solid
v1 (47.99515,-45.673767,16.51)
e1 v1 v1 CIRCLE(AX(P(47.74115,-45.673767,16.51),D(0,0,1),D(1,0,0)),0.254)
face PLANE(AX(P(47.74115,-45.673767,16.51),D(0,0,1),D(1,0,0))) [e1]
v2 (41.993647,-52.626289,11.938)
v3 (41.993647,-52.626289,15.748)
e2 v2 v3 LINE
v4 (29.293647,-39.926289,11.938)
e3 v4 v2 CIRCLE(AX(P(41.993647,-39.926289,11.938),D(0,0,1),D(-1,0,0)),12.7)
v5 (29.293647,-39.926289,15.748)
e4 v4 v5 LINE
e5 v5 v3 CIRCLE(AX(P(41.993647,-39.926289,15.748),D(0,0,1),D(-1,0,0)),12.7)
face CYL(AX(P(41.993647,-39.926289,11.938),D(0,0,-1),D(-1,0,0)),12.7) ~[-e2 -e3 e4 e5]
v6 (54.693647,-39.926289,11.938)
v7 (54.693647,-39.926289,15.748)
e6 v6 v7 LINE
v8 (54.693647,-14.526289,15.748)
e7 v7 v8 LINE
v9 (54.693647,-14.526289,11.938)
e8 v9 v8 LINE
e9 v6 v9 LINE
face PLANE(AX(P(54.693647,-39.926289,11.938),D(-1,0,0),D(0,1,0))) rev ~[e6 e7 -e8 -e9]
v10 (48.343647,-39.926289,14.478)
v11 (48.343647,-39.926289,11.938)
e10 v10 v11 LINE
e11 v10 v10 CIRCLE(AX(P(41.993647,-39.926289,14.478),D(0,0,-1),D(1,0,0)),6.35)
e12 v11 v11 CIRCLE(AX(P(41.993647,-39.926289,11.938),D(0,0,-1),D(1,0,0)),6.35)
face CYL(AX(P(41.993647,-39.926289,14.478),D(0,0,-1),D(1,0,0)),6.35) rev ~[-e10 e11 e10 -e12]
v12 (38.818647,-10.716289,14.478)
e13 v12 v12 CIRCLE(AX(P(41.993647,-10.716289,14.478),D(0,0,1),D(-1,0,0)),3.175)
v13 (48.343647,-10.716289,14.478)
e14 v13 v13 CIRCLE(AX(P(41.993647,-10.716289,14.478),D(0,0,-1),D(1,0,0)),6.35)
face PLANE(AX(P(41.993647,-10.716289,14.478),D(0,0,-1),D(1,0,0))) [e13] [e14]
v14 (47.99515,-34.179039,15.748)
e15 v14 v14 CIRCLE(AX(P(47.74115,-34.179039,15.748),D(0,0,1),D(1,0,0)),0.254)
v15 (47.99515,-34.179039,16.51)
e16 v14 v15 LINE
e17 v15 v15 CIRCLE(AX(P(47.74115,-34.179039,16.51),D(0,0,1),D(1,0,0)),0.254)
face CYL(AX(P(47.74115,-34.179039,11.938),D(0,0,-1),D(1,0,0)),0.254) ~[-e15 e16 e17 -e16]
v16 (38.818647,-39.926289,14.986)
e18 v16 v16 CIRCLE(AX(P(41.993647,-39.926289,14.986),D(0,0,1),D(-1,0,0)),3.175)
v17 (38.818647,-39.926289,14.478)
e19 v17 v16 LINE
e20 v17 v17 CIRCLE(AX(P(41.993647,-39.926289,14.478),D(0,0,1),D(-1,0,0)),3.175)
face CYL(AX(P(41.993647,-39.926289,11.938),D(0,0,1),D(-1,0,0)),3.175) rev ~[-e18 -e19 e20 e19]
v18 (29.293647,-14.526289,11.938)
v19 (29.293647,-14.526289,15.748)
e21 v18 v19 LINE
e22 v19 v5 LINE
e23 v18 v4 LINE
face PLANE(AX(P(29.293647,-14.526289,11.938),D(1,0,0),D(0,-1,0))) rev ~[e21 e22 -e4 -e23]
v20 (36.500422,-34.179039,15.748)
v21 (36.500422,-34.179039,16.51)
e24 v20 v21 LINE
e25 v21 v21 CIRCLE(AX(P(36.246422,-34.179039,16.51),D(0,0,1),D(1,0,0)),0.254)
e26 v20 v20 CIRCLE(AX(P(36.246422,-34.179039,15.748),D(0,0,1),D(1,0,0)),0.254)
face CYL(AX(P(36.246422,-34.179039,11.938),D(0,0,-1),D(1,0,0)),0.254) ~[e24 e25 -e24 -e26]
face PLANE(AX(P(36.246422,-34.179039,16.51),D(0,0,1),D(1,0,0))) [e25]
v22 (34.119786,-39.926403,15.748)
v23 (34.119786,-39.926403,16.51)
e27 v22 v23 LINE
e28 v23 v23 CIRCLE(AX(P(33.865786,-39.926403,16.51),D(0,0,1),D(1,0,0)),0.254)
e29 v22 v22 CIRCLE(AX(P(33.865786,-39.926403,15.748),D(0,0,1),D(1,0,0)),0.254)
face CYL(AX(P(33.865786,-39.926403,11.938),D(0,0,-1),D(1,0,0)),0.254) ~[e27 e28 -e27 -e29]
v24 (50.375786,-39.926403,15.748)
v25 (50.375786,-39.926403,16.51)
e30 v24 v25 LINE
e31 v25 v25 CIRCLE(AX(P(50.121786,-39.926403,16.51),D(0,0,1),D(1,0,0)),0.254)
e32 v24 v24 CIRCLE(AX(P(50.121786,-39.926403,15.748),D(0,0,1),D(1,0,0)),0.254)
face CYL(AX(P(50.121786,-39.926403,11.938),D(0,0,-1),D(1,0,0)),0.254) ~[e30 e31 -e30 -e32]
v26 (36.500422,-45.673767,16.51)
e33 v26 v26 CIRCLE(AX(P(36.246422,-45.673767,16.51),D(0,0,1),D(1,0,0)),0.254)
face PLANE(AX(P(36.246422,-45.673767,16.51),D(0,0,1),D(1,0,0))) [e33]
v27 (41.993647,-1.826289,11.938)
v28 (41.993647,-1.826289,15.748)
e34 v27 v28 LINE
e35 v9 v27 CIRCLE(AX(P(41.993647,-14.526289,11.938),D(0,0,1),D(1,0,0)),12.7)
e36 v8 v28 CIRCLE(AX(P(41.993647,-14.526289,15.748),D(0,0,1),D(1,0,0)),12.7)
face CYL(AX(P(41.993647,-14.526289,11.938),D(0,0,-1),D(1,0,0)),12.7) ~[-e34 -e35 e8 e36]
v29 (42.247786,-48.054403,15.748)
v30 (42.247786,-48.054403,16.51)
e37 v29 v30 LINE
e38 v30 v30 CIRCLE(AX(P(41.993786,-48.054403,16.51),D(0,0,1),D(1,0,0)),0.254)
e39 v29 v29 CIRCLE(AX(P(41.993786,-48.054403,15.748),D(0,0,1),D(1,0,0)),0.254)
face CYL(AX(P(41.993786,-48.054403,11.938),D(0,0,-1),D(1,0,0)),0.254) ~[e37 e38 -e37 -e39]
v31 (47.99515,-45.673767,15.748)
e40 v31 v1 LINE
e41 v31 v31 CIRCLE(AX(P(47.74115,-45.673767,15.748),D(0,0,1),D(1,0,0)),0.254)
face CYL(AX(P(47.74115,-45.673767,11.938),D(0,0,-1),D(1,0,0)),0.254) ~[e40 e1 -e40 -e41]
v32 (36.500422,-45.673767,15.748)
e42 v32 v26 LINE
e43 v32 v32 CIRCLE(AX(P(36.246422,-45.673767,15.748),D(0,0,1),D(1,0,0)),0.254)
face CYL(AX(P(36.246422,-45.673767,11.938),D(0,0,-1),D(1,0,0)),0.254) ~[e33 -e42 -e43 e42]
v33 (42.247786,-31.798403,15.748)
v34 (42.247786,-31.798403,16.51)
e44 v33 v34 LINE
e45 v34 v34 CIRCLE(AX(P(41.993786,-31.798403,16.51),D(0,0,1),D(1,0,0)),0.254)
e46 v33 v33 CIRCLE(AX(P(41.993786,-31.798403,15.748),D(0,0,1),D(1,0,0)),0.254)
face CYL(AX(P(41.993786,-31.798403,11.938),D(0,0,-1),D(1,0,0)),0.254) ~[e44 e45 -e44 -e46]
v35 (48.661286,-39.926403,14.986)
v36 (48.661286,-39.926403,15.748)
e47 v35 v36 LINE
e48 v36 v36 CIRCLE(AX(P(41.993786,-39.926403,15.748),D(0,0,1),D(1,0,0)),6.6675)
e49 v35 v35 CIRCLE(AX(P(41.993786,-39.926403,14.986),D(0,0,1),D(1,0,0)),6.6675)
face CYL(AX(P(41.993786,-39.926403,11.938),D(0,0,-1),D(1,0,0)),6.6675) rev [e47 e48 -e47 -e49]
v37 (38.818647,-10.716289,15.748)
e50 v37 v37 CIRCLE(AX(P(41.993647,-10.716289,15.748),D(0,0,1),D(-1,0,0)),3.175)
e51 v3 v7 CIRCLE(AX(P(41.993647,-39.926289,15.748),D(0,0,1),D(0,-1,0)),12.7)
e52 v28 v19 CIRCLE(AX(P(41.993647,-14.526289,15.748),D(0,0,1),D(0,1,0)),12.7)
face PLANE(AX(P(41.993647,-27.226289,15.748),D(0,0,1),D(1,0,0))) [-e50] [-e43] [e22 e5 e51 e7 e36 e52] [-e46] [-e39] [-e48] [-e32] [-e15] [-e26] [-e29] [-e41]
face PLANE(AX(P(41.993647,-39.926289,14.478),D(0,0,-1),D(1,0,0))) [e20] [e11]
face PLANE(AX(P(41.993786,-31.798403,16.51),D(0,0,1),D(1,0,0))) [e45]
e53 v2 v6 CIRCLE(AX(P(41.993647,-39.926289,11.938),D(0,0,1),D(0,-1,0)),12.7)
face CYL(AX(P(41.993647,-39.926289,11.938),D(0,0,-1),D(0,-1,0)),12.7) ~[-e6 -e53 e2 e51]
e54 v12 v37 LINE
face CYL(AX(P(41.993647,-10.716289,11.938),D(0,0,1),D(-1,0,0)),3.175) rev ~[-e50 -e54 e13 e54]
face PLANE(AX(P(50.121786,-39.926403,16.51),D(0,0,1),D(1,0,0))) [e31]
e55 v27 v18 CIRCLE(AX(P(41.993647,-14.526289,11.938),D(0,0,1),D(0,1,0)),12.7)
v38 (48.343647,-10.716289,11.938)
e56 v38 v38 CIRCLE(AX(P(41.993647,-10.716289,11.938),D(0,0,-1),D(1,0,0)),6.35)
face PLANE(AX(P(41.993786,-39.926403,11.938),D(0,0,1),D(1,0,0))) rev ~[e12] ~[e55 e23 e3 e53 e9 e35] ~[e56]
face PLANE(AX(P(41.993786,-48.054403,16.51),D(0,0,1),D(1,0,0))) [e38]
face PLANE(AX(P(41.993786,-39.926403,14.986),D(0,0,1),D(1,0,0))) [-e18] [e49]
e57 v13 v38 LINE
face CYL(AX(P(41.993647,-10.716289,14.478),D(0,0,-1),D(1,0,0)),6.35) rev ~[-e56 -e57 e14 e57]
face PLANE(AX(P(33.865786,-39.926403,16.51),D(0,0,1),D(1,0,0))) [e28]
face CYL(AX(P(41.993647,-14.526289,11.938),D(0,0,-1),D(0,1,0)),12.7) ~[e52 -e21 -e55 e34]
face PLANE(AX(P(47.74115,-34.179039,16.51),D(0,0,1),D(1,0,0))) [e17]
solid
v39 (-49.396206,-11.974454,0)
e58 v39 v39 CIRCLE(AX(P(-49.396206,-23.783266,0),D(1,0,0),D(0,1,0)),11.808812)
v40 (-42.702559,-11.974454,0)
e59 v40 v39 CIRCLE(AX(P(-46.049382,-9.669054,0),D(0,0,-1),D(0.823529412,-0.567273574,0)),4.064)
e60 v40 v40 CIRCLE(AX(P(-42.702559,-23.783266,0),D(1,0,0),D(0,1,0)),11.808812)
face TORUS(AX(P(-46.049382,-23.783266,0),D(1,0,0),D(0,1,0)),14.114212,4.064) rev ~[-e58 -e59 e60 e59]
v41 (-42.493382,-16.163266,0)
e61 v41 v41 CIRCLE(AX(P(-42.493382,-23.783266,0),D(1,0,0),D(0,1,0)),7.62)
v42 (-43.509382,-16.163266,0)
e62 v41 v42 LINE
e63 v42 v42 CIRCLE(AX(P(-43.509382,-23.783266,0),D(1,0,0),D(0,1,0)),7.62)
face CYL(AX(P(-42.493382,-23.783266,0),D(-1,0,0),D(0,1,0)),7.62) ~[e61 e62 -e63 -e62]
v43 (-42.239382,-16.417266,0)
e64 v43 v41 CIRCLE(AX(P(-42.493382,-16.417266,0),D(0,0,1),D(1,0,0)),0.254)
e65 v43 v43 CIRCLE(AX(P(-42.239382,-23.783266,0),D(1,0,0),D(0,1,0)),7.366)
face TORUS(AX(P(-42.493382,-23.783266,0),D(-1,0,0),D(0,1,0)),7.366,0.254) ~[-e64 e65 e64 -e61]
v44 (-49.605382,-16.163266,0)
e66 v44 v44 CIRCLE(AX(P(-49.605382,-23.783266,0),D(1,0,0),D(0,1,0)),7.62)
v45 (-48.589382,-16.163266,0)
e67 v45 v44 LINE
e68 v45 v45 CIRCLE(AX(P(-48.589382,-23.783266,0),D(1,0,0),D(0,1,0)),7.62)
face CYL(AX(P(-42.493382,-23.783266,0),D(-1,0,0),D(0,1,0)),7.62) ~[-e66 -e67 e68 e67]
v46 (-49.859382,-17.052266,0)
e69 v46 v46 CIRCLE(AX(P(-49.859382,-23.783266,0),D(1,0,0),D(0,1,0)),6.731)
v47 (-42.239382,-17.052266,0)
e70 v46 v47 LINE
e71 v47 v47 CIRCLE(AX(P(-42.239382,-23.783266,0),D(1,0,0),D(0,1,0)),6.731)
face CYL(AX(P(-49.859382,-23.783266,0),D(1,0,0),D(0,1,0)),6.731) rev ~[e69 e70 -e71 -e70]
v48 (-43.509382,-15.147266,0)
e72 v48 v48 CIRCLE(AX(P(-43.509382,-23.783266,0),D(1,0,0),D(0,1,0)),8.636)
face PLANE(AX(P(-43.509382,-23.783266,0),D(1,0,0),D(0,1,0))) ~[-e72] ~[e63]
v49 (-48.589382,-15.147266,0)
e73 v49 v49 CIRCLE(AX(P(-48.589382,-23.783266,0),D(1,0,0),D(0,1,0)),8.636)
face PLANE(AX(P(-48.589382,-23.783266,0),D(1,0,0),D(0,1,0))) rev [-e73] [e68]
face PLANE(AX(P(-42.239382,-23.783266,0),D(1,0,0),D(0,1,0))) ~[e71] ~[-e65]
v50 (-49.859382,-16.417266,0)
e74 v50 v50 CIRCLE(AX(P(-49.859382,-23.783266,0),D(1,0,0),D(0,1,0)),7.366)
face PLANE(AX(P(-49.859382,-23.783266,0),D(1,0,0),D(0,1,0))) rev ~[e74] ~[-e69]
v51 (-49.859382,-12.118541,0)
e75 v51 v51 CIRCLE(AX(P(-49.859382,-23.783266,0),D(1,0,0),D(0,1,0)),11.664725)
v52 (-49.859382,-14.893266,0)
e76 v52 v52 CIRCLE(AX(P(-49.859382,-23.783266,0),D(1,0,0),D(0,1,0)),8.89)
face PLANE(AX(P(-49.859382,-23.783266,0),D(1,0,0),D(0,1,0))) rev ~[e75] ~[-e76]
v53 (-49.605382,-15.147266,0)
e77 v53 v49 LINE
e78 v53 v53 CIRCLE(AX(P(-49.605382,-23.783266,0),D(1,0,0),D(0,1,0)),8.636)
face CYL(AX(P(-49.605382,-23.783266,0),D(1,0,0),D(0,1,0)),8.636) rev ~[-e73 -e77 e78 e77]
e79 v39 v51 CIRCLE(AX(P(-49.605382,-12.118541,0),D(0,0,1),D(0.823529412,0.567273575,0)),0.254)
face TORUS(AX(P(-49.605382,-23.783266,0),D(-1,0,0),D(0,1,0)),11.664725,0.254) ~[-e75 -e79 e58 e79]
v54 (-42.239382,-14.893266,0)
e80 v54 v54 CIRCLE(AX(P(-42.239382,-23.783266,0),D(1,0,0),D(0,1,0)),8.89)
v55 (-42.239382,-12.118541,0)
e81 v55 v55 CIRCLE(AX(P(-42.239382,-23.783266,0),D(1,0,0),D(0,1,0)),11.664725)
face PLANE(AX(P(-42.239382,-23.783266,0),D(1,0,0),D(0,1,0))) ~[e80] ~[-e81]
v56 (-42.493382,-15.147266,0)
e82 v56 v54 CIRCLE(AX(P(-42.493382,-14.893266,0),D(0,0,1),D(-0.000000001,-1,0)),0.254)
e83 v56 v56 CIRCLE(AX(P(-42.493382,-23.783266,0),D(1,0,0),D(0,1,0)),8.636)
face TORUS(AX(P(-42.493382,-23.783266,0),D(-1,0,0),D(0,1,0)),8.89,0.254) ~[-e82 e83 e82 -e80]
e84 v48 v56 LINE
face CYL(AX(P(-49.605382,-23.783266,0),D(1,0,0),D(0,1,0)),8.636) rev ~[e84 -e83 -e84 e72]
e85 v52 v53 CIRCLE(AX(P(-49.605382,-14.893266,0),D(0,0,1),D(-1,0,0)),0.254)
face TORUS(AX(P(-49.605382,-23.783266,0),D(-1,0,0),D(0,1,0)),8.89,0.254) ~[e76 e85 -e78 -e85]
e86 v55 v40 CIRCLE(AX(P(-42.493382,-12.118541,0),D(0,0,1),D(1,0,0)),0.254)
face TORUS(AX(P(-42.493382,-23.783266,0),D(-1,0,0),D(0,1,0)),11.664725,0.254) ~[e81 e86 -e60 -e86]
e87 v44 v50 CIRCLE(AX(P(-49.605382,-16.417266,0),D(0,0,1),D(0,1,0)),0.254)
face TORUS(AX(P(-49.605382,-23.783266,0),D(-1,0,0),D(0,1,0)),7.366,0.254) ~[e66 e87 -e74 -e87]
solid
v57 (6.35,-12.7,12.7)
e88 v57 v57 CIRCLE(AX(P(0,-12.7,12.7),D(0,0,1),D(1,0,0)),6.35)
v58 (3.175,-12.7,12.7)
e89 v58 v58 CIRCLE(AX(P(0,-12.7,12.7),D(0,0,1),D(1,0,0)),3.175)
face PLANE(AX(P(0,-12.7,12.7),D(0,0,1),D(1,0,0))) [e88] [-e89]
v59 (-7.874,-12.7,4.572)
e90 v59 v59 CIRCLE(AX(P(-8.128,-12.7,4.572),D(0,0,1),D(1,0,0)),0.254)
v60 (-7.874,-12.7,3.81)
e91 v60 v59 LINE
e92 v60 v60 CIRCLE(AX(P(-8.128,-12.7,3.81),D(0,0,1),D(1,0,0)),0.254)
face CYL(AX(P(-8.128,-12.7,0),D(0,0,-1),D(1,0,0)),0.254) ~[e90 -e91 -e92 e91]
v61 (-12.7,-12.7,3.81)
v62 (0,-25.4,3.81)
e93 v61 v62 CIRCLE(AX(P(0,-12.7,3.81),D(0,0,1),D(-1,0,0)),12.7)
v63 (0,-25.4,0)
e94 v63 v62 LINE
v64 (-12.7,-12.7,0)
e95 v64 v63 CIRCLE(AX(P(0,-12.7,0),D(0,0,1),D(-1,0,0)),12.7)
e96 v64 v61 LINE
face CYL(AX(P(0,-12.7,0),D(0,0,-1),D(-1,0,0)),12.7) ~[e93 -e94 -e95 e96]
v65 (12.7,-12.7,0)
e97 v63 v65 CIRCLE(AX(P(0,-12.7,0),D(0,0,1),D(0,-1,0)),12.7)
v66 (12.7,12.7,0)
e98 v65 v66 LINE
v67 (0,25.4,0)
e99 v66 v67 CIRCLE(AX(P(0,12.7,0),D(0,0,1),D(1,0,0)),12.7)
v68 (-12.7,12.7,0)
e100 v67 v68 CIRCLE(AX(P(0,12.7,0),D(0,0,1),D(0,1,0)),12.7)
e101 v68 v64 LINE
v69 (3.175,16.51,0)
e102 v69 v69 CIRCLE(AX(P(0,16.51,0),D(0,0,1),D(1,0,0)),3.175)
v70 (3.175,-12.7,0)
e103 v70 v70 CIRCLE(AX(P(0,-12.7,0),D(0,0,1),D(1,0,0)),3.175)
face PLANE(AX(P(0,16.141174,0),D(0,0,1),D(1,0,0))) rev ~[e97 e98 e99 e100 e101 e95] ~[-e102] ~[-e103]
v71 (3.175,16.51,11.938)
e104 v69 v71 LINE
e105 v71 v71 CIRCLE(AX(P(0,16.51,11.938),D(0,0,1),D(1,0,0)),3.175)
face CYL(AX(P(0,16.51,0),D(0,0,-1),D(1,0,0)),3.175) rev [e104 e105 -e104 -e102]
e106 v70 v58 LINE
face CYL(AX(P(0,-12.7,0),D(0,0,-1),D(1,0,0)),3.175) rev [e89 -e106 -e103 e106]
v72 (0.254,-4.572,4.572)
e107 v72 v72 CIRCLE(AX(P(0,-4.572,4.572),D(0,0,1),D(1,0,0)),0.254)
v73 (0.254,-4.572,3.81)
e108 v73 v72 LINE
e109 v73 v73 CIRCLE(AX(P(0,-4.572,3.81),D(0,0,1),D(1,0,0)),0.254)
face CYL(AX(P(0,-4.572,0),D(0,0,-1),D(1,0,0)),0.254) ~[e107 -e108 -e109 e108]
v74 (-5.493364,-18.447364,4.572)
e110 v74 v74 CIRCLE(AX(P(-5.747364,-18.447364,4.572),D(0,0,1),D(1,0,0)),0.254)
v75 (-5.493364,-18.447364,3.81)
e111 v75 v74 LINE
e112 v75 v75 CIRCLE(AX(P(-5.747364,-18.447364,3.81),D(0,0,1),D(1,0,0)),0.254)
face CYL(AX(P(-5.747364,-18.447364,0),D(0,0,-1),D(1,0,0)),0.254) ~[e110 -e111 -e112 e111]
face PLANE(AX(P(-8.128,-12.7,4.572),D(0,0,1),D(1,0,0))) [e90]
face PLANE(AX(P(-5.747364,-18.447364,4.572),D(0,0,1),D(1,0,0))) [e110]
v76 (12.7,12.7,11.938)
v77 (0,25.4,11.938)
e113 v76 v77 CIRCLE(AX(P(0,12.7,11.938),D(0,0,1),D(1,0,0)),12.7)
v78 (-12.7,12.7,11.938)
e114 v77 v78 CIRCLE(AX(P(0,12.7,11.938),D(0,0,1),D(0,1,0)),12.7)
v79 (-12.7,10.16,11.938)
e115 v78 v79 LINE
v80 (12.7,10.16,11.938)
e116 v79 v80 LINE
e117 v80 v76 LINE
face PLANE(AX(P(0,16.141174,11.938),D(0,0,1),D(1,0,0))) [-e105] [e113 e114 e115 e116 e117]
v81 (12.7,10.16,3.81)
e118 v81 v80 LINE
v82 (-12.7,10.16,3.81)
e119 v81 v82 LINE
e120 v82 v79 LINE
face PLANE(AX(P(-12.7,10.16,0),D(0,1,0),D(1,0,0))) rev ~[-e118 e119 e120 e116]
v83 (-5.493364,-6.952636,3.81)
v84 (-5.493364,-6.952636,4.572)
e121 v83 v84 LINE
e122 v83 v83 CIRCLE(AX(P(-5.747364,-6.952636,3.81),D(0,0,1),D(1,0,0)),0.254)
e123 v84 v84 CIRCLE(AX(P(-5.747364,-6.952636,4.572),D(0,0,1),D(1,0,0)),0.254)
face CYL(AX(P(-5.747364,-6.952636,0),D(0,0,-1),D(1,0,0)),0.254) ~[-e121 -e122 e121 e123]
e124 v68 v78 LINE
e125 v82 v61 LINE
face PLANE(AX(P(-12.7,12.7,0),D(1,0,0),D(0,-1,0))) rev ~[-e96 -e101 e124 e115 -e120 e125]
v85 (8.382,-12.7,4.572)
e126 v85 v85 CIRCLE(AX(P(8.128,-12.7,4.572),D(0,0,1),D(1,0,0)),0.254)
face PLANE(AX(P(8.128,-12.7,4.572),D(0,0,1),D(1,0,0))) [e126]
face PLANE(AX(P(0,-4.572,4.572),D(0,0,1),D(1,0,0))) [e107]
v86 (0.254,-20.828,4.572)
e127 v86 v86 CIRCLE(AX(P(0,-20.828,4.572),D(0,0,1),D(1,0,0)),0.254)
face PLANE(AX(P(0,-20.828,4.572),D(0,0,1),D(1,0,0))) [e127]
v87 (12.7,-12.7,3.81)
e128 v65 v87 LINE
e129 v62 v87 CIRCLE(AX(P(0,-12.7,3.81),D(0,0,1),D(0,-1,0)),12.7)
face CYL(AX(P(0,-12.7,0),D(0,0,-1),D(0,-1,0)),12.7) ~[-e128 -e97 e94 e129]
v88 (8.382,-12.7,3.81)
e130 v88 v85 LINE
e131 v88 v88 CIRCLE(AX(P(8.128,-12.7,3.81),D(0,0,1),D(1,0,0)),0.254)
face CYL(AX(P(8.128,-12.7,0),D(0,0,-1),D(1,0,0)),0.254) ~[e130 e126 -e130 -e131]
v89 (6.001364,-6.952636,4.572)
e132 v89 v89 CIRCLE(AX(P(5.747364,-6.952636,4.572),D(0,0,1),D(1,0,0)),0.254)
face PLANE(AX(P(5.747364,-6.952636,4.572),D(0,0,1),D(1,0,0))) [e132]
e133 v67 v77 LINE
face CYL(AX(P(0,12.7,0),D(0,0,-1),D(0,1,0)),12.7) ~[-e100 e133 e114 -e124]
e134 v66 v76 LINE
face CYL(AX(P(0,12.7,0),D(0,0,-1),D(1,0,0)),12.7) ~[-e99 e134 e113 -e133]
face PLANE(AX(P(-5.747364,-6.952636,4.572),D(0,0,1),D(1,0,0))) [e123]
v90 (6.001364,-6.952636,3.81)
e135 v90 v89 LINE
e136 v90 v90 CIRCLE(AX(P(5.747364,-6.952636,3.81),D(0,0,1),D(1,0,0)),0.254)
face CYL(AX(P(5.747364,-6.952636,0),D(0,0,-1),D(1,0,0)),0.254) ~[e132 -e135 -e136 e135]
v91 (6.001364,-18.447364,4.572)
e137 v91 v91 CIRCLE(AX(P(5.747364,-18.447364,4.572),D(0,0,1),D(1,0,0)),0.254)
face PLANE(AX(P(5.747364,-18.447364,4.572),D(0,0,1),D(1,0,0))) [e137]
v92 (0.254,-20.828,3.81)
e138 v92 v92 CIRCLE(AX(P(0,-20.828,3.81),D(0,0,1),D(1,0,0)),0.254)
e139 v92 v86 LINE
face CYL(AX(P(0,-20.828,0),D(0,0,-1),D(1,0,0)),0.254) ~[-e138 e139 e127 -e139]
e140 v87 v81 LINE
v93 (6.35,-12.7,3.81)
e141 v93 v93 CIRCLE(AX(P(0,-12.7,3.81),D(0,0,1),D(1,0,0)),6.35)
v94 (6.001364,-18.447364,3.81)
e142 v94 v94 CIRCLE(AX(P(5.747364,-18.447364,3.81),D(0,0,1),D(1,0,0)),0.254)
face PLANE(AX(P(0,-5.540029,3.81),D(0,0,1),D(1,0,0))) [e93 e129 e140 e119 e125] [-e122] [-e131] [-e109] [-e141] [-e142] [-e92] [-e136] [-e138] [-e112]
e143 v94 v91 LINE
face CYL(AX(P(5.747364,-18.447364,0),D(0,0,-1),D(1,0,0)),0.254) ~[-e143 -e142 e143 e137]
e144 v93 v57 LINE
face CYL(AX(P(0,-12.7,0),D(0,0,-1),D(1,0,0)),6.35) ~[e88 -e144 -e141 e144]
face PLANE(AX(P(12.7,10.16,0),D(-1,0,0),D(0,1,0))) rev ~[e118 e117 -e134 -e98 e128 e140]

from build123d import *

# Parameters (mm, degrees)
F0_R            = 0.254
F0_R_2          = 6.35
F1_DEPTH        = 3.81
F0_R_3          = 3.175
F2_DEPTH        = 11.938
F3_DEPTH        = 4.572
F4_W            = 5.08
F4_H            = 1.016
F6_R            = 0.254
F6_R_2          = 6.6675
F6_R_3          = 3.175
F7_DEPTH        = 3.81
F8_DEPTH        = 4.572
F9_DEPTH        = 12.7
F10_DEPTH       = 3.048
F11_D           = 6.35
F11_CBORE_D     = 12.7
F11_CBORE_DEPTH = 2.54


with BuildPart() as f1:
    # F0 (on Top) → F1 (new body)
    with BuildSketch(Plane.XY):
        with BuildLine():
            ThreePointArc((0, -25.4), (8.9802561211, -21.6802561211), (12.7, -12.7))
            Line((12.7, -12.7), (12.7, 10.16))
            Line((12.7, 10.16), (-3.01e-08, 10.16))
            Line((-3.01e-08, 10.16), (-12.7, 10.16))
            Line((-12.7, 10.16), (-12.7, -12.7))
            ThreePointArc((-12.7, -12.7), (-8.9802561211, -21.6802561211), (0, -25.4))
        make_face()
        with Locations((-8.128, -12.7)):
            Circle(F0_R, mode=Mode.SUBTRACT)
        with Locations((0, -20.828)):
            Circle(F0_R, mode=Mode.SUBTRACT)
        with Locations((-5.7473639175, -18.4473639175)):
            Circle(F0_R, mode=Mode.SUBTRACT)
        with Locations((0, -12.7)):
            Circle(F0_R_2, mode=Mode.SUBTRACT)
        with Locations((-5.7473639175, -6.9526360825)):
            Circle(F0_R, mode=Mode.SUBTRACT)
        with Locations((0, -4.572)):
            Circle(F0_R, mode=Mode.SUBTRACT)
        with Locations((5.7473639175, -18.4473639175)):
            Circle(F0_R, mode=Mode.SUBTRACT)
        with Locations((8.128, -12.7)):
            Circle(F0_R, mode=Mode.SUBTRACT)
        with Locations((5.7473639175, -6.9526360825)):
            Circle(F0_R, mode=Mode.SUBTRACT)
    extrude(amount=F1_DEPTH)

    # F0 (on Top) → F2 (join)
    with BuildSketch(Plane.XY):
        with BuildLine():
            Line((-3.01e-08, 10.16), (12.7, 10.16))
            Line((12.7, 10.16), (12.7, 12.7))
            ThreePointArc((12.7, 12.7), (8.9802561211, 21.6802561211), (0, 25.4))
            ThreePointArc((0, 25.4), (-8.9802561211, 21.6802561211), (-12.7, 12.7))
            Line((-12.7, 12.7), (-12.7, 10.16))
            Line((-12.7, 10.16), (-3.01e-08, 10.16))
        make_face()
        with BuildLine():
            ThreePointArc((6.35, 16.51), (4.4901280499, 12.0198719288), (-3.01e-08, 10.16))
            ThreePointArc((-3.01e-08, 10.16), (-4.4901280499, 21.0001280712), (6.35, 16.51))
        make_face(mode=Mode.SUBTRACT)
        with BuildLine():
            ThreePointArc((6.35, 16.51), (-4.4901280499, 21.0001280712), (-3.01e-08, 10.16))
            ThreePointArc((-3.01e-08, 10.16), (4.4901280499, 12.0198719288), (6.35, 16.51))
        make_face()
        with Locations((0, 16.51)):
            Circle(F0_R_3, mode=Mode.SUBTRACT)
    extrude(amount=F2_DEPTH)

    # F0 (on Top) → F3 (join)
    with BuildSketch(Plane.XY):
        with Locations((-8.128, -12.7)):
            Circle(F0_R)
        with Locations((-5.7473639175, -18.4473639175)):
            Circle(F0_R)
        with Locations((0, -20.828)):
            Circle(F0_R)
        with Locations((5.7473639175, -18.4473639175)):
            Circle(F0_R)
        with Locations((8.128, -12.7)):
            Circle(F0_R)
        with Locations((5.7473639175, -6.9526360825)):
            Circle(F0_R)
        with Locations((0, -4.572)):
            Circle(F0_R)
        with Locations((-5.7473639175, -6.9526360825)):
            Circle(F0_R)
    extrude(amount=F3_DEPTH)

    # F0 (on Top) → F9 (join)
    with BuildSketch(Plane.XY):
        with Locations((0, -12.7)):
            Circle(F0_R_2)
        with Locations((0, -12.7)):
            Circle(F0_R_3, mode=Mode.SUBTRACT)
    extrude(amount=F9_DEPTH)


with BuildPart() as f5:
    # F4 (on Top) → F5 (revolve)
    with BuildSketch(Plane.XY):
        with BuildLine():
            Line((-42.2393822122, -14.8932660019), (-42.2393822122, -12.1185411471))
            ThreePointArc((-42.2393822122, -12.1185411471), (-42.4179329694, -11.8760057646), (-42.7025586828, -11.9744536592))
            ThreePointArc((-42.7025586828, -11.9744536592), (-46.0493822122, -13.7330538538), (-49.3962057416, -11.9744536592))
            ThreePointArc((-49.3962057416, -11.9744536592), (-49.6808314549, -11.8760057646), (-49.8593822122, -12.1185411471))
            Line((-49.8593822122, -12.1185411471), (-49.8593822122, -14.8932660019))
            ThreePointArc((-49.8593822122, -14.8932660019), (-49.7849873346, -15.0728711244), (-49.6053822122, -15.1472660019))
            Line((-49.6053822122, -15.1472660019), (-48.5893822122, -15.1472660019))
            Line((-48.5893822122, -15.1472660019), (-43.5093822122, -15.1472660019))
            Line((-43.5093822122, -15.1472660019), (-42.4933822122, -15.1472660019))
            ThreePointArc((-42.4933822122, -15.1472660019), (-42.3137770897, -15.0728711244), (-42.2393822122, -14.8932660019))
        make_face()
        with Locations((-46.0493822122, -15.6552660019)):
            Rectangle(F4_W, F4_H)
        with BuildLine():
            Line((-42.4933822122, -16.1632660019), (-43.5093822122, -16.1632660019))
            Line((-43.5093822122, -16.1632660019), (-48.5893822122, -16.1632660019))
            Line((-48.5893822122, -16.1632660019), (-49.6053822122, -16.1632660019))
            ThreePointArc((-49.6053822122, -16.1632660019), (-49.7849873346, -16.2376608795), (-49.8593822122, -16.4172660019))
            Line((-49.8593822122, -16.4172660019), (-49.8593822122, -17.0522660019))
            Line((-49.8593822122, -17.0522660019), (-42.2393822122, -17.0522660019))
            Line((-42.2393822122, -17.0522660019), (-42.2393822122, -16.4172660019))
            ThreePointArc((-42.2393822122, -16.4172660019), (-42.3137770897, -16.2376608795), (-42.4933822122, -16.1632660019))
        make_face()
    revolve(axis=Axis((-46.0493822122, -23.7832660019, 0), (1, 0, 0)))


with BuildPart() as f7:
    # F6 (on face) → F7 (new body)
    with BuildSketch(Plane.XY.offset(11.938)):
        with BuildLine():
            ThreePointArc((41.993646807, -52.6262886033), (50.9739029281, -48.9065447244), (54.693646807, -39.9262886033))
            Line((54.693646807, -39.9262886033), (54.693646807, -14.5262886033))
            ThreePointArc((54.693646807, -14.5262886033), (50.9739029281, -5.5460324822), (41.993646807, -1.8262886033))
            ThreePointArc((41.993646807, -1.8262886033), (33.0133906859, -5.5460324822), (29.293646807, -14.5262886033))
            Line((29.293646807, -14.5262886033), (29.293646807, -39.9262886033))
            ThreePointArc((29.293646807, -39.9262886033), (33.0133906859, -48.9065447244), (41.993646807, -52.6262886033))
        make_face()
        with Locations((36.2464217321, -45.6737672395)):
            Circle(F6_R, mode=Mode.SUBTRACT)
        with Locations((33.8657856495, -39.9264033221)):
            Circle(F6_R, mode=Mode.SUBTRACT)
        with Locations((36.2464217321, -34.1790394046)):
            Circle(F6_R, mode=Mode.SUBTRACT)
        with Locations((41.9937856495, -48.0544033221)):
            Circle(F6_R, mode=Mode.SUBTRACT)
        with Locations((47.741149567, -45.6737672395)):
            Circle(F6_R, mode=Mode.SUBTRACT)
        with Locations((41.9937856495, -39.9264033221)):
            Circle(F6_R_2, mode=Mode.SUBTRACT)
        with Locations((50.1217856495, -39.9264033221)):
            Circle(F6_R, mode=Mode.SUBTRACT)
        with Locations((47.741149567, -34.1790394046)):
            Circle(F6_R, mode=Mode.SUBTRACT)
        with Locations((41.9937856495, -31.7984033221)):
            Circle(F6_R, mode=Mode.SUBTRACT)
        with Locations((41.993646807, -10.7162886033)):
            Circle(F6_R_3, mode=Mode.SUBTRACT)
        with Locations((41.993646807, -10.7162886033)):
            Circle(F6_R_3)
    extrude(amount=F7_DEPTH)

    # F6 (on face) → F8 (join)
    with BuildSketch(Plane.XY.offset(11.938)):
        with Locations((41.9937856495, -31.7984033221)):
            Circle(F6_R)
        with Locations((36.2464217321, -34.1790394046)):
            Circle(F6_R)
        with Locations((33.8657856495, -39.9264033221)):
            Circle(F6_R)
        with Locations((47.741149567, -34.1790394046)):
            Circle(F6_R)
        with Locations((50.1217856495, -39.9264033221)):
            Circle(F6_R)
        with Locations((47.741149567, -45.6737672395)):
            Circle(F6_R)
        with Locations((36.2464217321, -45.6737672395)):
            Circle(F6_R)
        with Locations((41.9937856495, -48.0544033221)):
            Circle(F6_R)
    extrude(amount=F8_DEPTH)

    # F6 (on face) → F10 (join)
    with BuildSketch(Plane.XY.offset(11.938)):
        with Locations((41.9937856495, -39.9264033221)):
            Circle(F6_R_2)
        with Locations((41.9937856495, -39.9264033221)):
            Circle(F6_R_3, mode=Mode.SUBTRACT)
        with Locations((41.9937856495, -39.9264033221)):
            Circle(F6_R_3)
    extrude(amount=F10_DEPTH)

    # F11 (through all)
    with Locations(Plane(origin=(0, 0, 11.938), x_dir=(1, 0, 0), z_dir=(0, 0, -1))):
        with Locations((41.993646807, 39.9262886033), (41.993646807, 10.7162886033)):
            CounterBoreHole(F11_D / 2, F11_CBORE_D / 2, F11_CBORE_DEPTH)


solid = Compound([f1.part, f5.part, f7.part])
